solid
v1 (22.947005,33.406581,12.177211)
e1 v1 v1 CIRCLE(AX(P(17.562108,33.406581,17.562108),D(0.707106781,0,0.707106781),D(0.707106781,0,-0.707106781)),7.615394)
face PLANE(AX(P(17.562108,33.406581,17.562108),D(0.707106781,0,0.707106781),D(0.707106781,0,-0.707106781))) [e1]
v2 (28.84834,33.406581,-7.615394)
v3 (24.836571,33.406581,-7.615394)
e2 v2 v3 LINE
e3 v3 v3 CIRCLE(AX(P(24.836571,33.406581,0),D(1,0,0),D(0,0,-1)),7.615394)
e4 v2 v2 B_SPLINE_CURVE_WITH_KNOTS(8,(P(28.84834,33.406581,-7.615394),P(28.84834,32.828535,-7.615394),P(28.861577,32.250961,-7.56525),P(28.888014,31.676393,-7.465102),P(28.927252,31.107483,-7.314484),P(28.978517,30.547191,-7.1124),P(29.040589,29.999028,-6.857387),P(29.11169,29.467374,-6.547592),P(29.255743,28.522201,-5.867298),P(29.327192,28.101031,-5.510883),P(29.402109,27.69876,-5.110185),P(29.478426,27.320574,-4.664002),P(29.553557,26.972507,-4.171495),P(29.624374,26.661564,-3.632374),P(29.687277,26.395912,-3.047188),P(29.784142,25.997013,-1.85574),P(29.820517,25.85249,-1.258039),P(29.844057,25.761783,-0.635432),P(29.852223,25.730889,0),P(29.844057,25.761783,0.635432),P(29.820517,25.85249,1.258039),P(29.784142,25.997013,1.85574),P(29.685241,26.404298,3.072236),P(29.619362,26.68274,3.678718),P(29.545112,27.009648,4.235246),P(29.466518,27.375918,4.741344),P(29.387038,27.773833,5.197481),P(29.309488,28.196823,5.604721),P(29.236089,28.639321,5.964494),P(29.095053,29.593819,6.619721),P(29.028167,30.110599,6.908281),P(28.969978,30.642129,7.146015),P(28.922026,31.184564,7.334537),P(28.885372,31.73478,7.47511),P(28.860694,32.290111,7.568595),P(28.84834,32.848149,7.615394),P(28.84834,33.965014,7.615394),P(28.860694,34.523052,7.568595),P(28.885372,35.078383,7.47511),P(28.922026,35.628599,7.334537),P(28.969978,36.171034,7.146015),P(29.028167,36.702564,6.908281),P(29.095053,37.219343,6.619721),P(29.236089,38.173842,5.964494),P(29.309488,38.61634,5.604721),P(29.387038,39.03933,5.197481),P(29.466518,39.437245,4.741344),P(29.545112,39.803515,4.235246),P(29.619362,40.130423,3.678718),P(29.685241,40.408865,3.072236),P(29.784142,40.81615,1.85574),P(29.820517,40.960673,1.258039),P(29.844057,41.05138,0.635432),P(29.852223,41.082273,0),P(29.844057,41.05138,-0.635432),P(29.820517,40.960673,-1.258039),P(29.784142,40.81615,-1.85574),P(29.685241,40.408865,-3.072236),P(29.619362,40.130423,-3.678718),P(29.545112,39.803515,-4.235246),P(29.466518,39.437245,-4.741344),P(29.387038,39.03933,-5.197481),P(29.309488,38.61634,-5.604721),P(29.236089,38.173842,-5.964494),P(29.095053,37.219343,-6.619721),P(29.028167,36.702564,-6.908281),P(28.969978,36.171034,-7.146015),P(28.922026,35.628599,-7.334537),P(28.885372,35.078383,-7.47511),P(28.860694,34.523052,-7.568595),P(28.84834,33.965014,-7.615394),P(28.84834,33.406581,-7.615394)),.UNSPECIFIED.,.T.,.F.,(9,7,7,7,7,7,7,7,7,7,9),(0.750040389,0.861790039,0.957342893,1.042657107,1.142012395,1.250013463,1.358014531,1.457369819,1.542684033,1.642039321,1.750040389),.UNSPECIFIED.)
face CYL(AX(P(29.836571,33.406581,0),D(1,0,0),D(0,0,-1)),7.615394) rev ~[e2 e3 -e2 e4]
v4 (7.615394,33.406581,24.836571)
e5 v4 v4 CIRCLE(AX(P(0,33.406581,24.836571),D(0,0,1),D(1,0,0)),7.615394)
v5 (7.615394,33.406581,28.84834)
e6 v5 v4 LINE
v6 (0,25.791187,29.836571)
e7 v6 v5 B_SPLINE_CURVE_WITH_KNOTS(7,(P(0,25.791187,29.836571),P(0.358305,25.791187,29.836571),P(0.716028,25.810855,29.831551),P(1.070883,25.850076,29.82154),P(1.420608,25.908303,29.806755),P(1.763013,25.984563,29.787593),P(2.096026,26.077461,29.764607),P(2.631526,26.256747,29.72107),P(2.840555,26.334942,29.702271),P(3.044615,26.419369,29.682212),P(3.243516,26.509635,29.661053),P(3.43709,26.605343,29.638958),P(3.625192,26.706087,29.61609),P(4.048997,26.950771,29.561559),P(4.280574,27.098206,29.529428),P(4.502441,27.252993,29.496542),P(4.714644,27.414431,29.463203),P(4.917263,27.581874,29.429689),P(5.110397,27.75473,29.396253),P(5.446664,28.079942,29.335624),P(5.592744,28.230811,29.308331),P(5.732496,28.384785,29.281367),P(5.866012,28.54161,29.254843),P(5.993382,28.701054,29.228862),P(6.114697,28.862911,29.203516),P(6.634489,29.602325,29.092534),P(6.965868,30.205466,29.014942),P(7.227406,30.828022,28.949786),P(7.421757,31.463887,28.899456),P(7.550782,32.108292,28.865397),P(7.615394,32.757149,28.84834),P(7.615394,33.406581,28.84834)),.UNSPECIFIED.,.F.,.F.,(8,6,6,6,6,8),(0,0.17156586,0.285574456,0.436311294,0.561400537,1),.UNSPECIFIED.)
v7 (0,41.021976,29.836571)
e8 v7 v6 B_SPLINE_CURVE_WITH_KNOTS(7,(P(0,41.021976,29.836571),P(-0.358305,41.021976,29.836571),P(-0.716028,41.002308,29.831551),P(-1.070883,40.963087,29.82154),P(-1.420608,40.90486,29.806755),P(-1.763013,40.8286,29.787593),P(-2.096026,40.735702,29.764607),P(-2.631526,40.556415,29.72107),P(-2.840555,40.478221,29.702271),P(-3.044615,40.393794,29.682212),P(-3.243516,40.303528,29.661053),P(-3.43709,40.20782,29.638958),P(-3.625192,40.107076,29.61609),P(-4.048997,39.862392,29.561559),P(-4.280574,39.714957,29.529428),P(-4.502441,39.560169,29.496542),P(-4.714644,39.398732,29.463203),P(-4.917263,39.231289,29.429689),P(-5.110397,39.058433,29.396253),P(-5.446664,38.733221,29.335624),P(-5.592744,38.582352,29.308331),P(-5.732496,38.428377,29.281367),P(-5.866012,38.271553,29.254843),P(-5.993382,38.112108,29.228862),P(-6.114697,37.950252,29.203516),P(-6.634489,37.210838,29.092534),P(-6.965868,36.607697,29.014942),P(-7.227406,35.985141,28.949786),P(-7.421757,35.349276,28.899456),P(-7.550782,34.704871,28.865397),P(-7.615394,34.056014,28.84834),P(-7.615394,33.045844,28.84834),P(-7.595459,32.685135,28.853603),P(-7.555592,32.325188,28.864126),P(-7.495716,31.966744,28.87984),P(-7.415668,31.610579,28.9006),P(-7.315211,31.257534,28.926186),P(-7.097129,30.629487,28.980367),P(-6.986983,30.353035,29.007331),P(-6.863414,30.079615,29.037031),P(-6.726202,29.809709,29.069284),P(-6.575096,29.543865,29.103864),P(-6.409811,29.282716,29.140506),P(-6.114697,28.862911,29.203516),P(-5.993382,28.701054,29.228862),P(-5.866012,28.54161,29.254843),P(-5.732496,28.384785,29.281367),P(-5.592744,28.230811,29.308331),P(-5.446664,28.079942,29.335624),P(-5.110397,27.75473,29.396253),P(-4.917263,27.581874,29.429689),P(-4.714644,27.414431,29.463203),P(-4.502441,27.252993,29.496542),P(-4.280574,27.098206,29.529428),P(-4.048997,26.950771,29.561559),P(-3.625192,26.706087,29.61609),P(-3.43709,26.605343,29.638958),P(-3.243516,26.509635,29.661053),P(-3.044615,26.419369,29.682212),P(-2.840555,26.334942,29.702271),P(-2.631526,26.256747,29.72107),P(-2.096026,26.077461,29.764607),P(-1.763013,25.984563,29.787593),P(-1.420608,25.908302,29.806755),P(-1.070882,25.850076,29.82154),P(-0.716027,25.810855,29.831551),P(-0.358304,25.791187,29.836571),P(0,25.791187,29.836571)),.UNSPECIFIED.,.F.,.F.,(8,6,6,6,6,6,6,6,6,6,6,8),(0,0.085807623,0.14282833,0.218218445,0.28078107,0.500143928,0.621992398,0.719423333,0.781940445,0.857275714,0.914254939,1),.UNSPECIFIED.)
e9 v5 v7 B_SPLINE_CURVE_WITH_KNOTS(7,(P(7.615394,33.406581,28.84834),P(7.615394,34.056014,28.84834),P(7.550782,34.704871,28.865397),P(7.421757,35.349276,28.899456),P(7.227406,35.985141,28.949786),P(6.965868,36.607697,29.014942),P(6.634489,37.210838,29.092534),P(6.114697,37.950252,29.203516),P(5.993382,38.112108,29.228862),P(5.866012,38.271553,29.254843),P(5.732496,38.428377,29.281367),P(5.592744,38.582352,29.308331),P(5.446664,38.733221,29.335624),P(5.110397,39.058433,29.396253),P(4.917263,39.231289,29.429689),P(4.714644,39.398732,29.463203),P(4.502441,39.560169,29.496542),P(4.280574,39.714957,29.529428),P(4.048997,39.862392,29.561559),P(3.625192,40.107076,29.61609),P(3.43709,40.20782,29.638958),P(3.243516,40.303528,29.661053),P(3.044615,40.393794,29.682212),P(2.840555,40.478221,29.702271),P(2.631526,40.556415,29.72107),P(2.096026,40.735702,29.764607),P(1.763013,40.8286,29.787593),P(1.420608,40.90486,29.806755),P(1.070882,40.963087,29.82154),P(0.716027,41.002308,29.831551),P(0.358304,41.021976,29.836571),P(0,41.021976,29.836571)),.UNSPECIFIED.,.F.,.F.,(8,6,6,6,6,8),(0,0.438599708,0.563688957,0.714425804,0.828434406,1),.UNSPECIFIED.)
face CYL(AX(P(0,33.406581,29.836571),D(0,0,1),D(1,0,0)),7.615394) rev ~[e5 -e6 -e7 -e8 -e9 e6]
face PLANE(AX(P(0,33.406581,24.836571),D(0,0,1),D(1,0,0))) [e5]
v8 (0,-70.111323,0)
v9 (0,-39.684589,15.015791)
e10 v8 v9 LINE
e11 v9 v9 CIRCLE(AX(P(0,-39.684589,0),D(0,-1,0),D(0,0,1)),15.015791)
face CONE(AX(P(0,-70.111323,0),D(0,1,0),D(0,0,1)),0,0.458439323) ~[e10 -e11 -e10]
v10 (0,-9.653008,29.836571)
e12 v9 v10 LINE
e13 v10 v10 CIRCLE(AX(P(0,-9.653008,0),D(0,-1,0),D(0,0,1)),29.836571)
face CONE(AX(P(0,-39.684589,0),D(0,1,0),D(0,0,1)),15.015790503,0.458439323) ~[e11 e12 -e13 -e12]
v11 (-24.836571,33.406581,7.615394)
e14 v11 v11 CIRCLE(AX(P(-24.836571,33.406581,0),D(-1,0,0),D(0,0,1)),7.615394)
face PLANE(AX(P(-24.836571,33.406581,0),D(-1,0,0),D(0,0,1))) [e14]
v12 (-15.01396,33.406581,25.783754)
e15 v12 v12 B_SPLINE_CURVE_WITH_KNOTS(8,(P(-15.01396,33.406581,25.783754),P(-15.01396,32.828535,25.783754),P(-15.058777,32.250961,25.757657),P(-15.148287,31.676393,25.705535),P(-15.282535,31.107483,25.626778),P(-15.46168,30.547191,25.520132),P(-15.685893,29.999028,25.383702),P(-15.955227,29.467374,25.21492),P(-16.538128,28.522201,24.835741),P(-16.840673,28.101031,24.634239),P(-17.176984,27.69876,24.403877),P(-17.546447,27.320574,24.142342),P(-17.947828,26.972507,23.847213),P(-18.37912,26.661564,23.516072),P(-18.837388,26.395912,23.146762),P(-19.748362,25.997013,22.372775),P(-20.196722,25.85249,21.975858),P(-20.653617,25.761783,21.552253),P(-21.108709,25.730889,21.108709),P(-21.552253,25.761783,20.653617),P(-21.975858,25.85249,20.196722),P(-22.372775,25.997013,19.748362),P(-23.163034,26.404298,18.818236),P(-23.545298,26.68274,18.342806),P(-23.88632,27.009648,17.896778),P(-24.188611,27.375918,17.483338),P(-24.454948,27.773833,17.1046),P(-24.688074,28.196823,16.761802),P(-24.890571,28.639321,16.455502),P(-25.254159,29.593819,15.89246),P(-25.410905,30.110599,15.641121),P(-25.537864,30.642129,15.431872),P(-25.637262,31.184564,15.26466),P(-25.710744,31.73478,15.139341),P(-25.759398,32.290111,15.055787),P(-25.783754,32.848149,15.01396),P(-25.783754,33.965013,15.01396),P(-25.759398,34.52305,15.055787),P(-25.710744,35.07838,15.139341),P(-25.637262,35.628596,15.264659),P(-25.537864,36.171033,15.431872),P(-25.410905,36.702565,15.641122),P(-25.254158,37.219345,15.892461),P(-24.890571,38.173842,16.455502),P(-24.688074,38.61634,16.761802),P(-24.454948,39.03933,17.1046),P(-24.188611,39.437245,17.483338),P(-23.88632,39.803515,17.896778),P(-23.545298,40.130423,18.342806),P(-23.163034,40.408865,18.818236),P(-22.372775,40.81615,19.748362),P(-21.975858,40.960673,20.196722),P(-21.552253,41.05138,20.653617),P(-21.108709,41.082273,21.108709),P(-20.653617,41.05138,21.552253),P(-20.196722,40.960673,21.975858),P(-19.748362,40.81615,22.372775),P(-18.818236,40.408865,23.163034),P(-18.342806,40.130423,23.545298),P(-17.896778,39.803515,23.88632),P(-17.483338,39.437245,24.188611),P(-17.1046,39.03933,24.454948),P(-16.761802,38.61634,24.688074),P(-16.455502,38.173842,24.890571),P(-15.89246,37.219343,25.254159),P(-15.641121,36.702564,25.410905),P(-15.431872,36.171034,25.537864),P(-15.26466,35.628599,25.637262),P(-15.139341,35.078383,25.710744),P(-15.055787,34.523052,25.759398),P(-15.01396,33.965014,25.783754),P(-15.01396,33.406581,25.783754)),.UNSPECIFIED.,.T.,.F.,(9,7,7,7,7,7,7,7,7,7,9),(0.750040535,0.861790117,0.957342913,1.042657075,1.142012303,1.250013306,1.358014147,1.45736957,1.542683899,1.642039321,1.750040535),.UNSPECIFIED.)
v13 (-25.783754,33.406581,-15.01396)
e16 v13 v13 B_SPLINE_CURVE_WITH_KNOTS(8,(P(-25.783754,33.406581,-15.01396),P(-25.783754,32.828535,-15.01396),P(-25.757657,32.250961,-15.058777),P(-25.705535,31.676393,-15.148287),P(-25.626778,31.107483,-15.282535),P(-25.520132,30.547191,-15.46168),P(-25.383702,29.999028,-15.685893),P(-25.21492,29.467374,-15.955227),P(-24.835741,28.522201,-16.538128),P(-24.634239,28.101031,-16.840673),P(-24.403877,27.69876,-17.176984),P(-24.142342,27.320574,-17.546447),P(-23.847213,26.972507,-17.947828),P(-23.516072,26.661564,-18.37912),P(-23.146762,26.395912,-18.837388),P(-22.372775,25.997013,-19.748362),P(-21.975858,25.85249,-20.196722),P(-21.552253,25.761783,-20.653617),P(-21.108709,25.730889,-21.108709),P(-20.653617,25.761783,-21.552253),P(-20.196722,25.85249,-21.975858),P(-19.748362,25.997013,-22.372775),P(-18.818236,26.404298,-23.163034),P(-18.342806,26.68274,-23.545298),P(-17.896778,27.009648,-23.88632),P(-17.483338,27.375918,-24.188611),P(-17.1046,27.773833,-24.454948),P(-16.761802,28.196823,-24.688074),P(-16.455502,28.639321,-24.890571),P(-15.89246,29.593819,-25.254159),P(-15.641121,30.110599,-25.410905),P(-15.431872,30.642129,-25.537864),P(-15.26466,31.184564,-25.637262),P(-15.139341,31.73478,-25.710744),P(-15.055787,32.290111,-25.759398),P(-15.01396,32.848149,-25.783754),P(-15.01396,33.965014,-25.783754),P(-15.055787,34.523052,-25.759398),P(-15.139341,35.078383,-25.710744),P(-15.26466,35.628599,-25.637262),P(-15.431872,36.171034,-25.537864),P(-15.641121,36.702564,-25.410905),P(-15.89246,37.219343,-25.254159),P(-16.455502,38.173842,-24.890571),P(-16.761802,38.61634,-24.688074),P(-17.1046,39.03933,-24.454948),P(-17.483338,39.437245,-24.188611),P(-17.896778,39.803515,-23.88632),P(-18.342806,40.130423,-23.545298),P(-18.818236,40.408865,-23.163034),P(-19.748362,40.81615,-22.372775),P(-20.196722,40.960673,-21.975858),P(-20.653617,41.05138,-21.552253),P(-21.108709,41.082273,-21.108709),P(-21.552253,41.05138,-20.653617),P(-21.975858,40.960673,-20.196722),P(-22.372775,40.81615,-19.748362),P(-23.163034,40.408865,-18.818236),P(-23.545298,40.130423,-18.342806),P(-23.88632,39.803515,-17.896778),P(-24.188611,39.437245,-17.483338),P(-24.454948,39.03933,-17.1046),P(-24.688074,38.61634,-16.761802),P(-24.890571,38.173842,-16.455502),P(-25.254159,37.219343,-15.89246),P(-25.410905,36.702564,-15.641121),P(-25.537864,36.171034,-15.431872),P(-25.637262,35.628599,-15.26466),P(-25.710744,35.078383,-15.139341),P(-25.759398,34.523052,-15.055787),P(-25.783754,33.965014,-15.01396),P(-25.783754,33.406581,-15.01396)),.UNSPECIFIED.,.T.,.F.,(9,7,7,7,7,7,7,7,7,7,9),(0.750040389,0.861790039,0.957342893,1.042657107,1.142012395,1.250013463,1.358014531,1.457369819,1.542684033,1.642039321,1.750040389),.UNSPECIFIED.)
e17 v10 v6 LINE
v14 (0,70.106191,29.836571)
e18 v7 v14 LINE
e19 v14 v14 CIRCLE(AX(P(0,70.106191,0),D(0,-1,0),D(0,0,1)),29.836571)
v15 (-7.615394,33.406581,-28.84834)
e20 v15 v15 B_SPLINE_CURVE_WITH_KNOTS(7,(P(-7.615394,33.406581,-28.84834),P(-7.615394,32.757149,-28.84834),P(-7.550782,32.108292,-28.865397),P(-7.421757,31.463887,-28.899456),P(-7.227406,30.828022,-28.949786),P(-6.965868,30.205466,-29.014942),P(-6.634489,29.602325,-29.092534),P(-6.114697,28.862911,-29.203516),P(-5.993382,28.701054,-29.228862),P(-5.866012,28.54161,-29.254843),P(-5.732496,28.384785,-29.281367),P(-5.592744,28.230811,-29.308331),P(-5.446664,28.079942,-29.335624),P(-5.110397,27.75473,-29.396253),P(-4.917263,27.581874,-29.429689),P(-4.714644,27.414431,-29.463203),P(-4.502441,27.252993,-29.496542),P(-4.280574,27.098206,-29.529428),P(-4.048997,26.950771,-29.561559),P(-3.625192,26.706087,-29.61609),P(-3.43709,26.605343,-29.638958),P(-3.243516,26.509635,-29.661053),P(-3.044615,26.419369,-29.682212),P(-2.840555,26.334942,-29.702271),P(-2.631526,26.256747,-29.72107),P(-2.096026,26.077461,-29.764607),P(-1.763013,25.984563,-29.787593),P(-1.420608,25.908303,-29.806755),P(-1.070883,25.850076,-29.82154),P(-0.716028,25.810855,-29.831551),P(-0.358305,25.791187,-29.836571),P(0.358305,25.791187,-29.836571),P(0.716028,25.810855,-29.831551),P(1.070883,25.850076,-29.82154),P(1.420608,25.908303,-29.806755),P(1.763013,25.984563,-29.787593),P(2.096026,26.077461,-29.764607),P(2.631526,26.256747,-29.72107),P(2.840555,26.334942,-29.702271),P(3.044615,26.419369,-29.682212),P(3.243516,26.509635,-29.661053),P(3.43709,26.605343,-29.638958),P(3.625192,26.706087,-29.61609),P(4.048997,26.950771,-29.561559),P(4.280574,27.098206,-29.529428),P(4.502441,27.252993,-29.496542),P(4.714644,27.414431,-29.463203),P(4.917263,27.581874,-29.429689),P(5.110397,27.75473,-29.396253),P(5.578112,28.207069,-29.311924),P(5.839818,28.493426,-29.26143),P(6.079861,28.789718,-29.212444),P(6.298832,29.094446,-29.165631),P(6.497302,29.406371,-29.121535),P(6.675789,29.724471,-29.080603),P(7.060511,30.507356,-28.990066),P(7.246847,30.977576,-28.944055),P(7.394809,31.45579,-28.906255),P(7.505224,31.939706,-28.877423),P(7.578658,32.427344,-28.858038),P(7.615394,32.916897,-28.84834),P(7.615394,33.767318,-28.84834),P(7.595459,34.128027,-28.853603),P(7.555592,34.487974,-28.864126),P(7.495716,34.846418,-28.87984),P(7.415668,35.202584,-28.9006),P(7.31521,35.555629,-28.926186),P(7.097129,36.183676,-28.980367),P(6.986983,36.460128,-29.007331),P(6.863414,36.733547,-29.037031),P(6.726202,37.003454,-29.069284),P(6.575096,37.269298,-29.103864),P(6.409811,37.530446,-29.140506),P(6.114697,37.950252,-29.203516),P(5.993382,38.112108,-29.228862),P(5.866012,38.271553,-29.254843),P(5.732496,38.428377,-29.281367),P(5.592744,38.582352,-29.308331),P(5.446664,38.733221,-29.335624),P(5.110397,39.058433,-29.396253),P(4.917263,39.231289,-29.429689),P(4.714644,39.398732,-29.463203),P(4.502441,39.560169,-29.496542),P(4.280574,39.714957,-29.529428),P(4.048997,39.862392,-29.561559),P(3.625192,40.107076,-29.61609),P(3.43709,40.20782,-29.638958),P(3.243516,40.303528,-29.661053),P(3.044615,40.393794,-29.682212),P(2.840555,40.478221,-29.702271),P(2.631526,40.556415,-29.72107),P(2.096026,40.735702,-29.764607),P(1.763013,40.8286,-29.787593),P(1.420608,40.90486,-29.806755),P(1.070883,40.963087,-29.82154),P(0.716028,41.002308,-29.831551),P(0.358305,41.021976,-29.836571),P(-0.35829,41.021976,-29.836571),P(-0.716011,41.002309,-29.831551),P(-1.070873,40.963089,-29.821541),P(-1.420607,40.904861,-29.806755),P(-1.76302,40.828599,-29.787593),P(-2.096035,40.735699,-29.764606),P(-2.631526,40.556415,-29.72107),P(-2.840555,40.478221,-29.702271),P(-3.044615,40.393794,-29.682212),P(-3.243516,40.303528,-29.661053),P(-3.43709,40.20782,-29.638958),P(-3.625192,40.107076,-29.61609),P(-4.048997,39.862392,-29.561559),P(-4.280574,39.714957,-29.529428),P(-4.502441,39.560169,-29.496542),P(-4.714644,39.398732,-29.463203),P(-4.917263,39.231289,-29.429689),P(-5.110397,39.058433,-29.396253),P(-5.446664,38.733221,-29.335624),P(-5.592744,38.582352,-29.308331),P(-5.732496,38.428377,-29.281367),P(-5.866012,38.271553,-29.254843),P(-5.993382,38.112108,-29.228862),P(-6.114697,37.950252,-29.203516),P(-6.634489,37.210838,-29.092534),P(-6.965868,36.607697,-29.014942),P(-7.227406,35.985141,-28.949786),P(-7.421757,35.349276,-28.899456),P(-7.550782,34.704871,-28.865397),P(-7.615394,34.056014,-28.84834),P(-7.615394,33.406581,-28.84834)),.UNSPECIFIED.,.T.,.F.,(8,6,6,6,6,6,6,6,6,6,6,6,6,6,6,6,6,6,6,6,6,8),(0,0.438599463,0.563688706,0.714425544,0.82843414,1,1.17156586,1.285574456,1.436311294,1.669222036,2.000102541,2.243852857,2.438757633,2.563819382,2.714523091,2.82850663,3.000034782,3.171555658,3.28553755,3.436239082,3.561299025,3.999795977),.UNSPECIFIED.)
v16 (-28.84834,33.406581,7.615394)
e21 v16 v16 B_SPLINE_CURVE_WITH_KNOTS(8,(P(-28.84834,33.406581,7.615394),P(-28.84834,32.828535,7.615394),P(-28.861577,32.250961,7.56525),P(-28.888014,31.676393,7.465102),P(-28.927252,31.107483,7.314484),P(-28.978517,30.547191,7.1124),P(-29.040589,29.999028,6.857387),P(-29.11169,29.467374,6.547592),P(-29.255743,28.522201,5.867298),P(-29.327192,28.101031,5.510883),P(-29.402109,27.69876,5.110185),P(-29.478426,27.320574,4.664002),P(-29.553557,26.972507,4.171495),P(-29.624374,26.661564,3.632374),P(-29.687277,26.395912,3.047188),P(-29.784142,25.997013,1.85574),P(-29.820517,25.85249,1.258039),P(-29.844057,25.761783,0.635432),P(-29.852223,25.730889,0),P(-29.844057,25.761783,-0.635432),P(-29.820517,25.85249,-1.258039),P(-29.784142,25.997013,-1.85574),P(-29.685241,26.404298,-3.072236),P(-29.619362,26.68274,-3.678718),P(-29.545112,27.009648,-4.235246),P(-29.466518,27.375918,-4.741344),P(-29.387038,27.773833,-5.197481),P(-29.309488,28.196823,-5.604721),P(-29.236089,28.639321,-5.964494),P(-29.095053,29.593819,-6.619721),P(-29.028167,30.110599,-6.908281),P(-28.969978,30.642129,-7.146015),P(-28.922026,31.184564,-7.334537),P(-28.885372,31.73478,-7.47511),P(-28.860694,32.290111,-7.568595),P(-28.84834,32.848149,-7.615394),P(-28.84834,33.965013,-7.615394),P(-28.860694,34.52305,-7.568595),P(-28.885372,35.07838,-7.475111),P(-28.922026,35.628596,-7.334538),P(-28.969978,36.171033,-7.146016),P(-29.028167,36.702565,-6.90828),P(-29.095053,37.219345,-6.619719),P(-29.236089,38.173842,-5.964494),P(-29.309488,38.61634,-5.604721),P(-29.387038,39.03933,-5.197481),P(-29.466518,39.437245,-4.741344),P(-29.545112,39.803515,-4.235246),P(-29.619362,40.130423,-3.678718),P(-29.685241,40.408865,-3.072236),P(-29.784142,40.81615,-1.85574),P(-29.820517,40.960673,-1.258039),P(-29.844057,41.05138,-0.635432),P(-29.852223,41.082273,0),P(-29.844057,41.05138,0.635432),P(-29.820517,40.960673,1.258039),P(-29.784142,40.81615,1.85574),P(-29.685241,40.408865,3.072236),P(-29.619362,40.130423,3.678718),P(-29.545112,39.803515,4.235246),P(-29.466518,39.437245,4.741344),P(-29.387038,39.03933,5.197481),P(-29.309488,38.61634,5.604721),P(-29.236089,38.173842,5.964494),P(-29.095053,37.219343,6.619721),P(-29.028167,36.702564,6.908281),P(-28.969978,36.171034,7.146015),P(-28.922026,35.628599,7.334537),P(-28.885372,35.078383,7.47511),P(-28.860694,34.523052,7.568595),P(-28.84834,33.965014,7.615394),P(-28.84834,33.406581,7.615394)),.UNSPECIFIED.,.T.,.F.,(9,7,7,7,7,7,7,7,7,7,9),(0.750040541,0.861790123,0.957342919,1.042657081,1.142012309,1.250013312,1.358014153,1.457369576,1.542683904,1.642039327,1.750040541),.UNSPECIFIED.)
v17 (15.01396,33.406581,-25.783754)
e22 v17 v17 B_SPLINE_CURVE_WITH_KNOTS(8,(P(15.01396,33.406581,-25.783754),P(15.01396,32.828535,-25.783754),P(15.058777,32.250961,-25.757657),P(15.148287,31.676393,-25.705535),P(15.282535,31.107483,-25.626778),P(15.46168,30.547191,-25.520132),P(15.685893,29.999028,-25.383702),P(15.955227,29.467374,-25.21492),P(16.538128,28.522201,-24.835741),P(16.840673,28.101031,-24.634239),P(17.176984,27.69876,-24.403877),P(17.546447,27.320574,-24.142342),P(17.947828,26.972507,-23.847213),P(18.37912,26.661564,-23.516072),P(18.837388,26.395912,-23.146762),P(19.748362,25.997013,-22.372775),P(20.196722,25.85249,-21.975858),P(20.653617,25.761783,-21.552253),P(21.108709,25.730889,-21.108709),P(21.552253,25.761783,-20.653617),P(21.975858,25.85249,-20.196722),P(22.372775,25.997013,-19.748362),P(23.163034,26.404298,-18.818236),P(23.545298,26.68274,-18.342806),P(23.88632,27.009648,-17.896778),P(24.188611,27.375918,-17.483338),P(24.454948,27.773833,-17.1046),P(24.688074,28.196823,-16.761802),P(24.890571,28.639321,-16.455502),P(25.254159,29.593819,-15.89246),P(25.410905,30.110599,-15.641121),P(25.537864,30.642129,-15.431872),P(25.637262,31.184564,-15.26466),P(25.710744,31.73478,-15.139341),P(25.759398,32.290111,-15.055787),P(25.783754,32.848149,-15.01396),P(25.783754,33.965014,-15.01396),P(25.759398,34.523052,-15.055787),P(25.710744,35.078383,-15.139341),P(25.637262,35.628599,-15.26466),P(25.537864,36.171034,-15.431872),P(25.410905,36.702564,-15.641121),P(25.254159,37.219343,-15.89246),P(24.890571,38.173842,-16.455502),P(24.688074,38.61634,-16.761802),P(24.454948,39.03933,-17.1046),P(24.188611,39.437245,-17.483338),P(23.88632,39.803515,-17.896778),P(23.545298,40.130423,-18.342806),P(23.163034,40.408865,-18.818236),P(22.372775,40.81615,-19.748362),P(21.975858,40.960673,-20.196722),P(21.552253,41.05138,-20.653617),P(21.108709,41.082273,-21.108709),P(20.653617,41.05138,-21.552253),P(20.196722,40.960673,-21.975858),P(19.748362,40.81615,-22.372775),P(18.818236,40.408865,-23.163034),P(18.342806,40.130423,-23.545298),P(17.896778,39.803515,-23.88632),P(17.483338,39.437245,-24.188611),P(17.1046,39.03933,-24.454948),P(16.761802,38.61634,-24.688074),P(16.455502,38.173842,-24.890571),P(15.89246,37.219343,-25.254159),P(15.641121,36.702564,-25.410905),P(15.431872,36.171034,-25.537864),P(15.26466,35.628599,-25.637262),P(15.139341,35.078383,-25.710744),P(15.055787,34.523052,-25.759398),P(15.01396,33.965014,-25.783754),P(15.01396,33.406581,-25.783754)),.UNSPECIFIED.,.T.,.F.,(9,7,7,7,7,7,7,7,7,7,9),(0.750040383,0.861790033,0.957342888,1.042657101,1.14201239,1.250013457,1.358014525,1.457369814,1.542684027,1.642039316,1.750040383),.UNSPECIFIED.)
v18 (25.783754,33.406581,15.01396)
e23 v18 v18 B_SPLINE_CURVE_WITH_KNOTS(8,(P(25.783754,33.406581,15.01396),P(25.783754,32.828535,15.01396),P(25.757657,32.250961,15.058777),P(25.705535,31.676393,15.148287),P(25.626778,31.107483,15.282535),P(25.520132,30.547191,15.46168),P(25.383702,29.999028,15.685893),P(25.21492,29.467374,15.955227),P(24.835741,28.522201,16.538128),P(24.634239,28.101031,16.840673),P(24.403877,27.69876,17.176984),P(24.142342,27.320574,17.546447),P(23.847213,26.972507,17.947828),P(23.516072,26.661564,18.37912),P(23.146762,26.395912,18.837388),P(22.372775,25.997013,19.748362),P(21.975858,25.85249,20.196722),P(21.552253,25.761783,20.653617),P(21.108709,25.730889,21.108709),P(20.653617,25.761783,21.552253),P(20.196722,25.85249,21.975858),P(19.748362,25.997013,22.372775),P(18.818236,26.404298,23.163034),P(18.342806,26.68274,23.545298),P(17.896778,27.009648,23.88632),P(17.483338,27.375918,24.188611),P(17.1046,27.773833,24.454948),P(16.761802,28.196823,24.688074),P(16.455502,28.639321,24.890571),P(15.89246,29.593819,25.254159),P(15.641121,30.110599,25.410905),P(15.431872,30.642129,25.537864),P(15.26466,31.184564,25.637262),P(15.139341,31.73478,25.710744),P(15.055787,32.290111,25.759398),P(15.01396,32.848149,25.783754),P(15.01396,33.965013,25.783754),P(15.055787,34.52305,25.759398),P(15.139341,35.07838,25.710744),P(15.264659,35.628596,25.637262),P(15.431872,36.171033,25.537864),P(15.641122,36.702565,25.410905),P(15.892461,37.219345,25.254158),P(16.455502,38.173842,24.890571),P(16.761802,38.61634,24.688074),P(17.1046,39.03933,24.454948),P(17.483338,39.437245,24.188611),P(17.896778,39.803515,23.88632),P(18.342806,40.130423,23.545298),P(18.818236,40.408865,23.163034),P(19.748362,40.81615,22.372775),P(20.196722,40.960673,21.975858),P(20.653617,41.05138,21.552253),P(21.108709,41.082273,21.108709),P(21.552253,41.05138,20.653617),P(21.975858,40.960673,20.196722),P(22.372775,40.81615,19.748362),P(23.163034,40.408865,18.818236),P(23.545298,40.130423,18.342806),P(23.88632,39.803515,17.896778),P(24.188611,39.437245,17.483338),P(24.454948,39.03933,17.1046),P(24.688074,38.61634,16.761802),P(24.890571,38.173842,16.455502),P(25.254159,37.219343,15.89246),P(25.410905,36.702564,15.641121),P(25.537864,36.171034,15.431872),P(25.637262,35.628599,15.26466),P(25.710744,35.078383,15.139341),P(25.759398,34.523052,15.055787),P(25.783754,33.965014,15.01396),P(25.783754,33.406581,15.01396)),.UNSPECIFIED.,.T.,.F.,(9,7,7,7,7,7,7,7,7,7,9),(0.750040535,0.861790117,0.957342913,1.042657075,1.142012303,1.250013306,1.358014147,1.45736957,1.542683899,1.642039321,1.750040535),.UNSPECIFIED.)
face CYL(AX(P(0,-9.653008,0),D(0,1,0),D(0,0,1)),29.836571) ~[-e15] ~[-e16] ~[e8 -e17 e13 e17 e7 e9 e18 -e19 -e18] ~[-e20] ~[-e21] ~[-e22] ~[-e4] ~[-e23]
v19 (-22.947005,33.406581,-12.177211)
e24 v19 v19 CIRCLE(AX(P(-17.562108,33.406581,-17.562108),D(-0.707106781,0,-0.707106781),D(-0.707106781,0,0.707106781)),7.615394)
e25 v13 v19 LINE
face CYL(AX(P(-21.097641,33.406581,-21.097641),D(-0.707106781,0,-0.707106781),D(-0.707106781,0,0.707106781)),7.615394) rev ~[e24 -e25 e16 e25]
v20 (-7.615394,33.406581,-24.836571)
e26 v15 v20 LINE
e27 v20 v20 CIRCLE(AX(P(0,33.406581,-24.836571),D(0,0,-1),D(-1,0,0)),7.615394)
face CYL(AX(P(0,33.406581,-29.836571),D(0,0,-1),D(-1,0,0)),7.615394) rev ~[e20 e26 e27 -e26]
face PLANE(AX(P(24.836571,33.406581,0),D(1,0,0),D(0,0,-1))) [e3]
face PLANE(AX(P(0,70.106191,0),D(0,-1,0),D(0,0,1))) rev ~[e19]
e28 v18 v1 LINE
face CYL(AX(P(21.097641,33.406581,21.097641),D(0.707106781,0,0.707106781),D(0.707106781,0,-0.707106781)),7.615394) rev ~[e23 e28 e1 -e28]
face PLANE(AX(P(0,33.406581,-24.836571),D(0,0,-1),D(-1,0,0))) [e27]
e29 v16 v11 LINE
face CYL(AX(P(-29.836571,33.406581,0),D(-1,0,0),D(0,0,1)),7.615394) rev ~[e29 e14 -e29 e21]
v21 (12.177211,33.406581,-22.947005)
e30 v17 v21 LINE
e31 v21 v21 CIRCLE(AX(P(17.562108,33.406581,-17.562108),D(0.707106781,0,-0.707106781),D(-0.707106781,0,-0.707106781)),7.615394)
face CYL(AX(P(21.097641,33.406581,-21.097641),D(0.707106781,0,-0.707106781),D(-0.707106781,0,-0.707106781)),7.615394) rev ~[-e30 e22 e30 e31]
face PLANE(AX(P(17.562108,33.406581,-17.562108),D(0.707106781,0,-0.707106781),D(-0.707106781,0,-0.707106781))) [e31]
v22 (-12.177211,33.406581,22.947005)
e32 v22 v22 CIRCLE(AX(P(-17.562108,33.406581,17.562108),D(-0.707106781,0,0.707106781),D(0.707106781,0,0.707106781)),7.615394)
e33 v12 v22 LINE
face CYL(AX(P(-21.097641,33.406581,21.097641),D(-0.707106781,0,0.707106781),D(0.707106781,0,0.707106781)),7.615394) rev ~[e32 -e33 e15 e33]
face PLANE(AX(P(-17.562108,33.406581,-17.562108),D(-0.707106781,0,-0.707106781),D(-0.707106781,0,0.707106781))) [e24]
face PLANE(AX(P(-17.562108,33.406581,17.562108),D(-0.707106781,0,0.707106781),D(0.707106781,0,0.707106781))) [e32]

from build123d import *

# Parameters (mm, degrees)
SKETCH2_R          = 7.615394345
CUT_EXTRUDE1_DEPTH = 5
CIRPATTERN1_COUNT  = 8


with BuildPart() as part:
    # Sketch1 → Revolve1 (revolve)
    with BuildSketch(Plane.XY, mode=Mode.PRIVATE) as revolve1_sk:
        Polygon((-29.836570739, 70.106190724), (0, 70.106190724), (0, -39.684589186), (0, -70.111322573), (-15.015790503, -39.684589186), (-29.836570739, -9.65300818), align=None)
    revolve(revolve1_sk.sketch.rotate(Axis((0, 70.106190724, 0), (0, -1, 0)), 270), axis=Axis((0, 70.106190724, 0), (0, -1, 0)))

    # Sketch2 → Cut-Extrude1 (cut)
    with BuildSketch(Plane.XY.offset(29.836570739)):
        with Locations((0, 33.406581413)):
            Circle(SKETCH2_R)
    cut_extrude1 = extrude(amount=-CUT_EXTRUDE1_DEPTH, mode=Mode.SUBTRACT)

    # CirPattern1: Cut-Extrude1 ×8 about axis
    cirpattern1_axis = Axis((0, 0, 0), (0, 1, 0))
    for i in range(1, CIRPATTERN1_COUNT):
        add(cut_extrude1.rotate(cirpattern1_axis, i * 360 / CIRPATTERN1_COUNT), mode=Mode.SUBTRACT)


solid = part.part
